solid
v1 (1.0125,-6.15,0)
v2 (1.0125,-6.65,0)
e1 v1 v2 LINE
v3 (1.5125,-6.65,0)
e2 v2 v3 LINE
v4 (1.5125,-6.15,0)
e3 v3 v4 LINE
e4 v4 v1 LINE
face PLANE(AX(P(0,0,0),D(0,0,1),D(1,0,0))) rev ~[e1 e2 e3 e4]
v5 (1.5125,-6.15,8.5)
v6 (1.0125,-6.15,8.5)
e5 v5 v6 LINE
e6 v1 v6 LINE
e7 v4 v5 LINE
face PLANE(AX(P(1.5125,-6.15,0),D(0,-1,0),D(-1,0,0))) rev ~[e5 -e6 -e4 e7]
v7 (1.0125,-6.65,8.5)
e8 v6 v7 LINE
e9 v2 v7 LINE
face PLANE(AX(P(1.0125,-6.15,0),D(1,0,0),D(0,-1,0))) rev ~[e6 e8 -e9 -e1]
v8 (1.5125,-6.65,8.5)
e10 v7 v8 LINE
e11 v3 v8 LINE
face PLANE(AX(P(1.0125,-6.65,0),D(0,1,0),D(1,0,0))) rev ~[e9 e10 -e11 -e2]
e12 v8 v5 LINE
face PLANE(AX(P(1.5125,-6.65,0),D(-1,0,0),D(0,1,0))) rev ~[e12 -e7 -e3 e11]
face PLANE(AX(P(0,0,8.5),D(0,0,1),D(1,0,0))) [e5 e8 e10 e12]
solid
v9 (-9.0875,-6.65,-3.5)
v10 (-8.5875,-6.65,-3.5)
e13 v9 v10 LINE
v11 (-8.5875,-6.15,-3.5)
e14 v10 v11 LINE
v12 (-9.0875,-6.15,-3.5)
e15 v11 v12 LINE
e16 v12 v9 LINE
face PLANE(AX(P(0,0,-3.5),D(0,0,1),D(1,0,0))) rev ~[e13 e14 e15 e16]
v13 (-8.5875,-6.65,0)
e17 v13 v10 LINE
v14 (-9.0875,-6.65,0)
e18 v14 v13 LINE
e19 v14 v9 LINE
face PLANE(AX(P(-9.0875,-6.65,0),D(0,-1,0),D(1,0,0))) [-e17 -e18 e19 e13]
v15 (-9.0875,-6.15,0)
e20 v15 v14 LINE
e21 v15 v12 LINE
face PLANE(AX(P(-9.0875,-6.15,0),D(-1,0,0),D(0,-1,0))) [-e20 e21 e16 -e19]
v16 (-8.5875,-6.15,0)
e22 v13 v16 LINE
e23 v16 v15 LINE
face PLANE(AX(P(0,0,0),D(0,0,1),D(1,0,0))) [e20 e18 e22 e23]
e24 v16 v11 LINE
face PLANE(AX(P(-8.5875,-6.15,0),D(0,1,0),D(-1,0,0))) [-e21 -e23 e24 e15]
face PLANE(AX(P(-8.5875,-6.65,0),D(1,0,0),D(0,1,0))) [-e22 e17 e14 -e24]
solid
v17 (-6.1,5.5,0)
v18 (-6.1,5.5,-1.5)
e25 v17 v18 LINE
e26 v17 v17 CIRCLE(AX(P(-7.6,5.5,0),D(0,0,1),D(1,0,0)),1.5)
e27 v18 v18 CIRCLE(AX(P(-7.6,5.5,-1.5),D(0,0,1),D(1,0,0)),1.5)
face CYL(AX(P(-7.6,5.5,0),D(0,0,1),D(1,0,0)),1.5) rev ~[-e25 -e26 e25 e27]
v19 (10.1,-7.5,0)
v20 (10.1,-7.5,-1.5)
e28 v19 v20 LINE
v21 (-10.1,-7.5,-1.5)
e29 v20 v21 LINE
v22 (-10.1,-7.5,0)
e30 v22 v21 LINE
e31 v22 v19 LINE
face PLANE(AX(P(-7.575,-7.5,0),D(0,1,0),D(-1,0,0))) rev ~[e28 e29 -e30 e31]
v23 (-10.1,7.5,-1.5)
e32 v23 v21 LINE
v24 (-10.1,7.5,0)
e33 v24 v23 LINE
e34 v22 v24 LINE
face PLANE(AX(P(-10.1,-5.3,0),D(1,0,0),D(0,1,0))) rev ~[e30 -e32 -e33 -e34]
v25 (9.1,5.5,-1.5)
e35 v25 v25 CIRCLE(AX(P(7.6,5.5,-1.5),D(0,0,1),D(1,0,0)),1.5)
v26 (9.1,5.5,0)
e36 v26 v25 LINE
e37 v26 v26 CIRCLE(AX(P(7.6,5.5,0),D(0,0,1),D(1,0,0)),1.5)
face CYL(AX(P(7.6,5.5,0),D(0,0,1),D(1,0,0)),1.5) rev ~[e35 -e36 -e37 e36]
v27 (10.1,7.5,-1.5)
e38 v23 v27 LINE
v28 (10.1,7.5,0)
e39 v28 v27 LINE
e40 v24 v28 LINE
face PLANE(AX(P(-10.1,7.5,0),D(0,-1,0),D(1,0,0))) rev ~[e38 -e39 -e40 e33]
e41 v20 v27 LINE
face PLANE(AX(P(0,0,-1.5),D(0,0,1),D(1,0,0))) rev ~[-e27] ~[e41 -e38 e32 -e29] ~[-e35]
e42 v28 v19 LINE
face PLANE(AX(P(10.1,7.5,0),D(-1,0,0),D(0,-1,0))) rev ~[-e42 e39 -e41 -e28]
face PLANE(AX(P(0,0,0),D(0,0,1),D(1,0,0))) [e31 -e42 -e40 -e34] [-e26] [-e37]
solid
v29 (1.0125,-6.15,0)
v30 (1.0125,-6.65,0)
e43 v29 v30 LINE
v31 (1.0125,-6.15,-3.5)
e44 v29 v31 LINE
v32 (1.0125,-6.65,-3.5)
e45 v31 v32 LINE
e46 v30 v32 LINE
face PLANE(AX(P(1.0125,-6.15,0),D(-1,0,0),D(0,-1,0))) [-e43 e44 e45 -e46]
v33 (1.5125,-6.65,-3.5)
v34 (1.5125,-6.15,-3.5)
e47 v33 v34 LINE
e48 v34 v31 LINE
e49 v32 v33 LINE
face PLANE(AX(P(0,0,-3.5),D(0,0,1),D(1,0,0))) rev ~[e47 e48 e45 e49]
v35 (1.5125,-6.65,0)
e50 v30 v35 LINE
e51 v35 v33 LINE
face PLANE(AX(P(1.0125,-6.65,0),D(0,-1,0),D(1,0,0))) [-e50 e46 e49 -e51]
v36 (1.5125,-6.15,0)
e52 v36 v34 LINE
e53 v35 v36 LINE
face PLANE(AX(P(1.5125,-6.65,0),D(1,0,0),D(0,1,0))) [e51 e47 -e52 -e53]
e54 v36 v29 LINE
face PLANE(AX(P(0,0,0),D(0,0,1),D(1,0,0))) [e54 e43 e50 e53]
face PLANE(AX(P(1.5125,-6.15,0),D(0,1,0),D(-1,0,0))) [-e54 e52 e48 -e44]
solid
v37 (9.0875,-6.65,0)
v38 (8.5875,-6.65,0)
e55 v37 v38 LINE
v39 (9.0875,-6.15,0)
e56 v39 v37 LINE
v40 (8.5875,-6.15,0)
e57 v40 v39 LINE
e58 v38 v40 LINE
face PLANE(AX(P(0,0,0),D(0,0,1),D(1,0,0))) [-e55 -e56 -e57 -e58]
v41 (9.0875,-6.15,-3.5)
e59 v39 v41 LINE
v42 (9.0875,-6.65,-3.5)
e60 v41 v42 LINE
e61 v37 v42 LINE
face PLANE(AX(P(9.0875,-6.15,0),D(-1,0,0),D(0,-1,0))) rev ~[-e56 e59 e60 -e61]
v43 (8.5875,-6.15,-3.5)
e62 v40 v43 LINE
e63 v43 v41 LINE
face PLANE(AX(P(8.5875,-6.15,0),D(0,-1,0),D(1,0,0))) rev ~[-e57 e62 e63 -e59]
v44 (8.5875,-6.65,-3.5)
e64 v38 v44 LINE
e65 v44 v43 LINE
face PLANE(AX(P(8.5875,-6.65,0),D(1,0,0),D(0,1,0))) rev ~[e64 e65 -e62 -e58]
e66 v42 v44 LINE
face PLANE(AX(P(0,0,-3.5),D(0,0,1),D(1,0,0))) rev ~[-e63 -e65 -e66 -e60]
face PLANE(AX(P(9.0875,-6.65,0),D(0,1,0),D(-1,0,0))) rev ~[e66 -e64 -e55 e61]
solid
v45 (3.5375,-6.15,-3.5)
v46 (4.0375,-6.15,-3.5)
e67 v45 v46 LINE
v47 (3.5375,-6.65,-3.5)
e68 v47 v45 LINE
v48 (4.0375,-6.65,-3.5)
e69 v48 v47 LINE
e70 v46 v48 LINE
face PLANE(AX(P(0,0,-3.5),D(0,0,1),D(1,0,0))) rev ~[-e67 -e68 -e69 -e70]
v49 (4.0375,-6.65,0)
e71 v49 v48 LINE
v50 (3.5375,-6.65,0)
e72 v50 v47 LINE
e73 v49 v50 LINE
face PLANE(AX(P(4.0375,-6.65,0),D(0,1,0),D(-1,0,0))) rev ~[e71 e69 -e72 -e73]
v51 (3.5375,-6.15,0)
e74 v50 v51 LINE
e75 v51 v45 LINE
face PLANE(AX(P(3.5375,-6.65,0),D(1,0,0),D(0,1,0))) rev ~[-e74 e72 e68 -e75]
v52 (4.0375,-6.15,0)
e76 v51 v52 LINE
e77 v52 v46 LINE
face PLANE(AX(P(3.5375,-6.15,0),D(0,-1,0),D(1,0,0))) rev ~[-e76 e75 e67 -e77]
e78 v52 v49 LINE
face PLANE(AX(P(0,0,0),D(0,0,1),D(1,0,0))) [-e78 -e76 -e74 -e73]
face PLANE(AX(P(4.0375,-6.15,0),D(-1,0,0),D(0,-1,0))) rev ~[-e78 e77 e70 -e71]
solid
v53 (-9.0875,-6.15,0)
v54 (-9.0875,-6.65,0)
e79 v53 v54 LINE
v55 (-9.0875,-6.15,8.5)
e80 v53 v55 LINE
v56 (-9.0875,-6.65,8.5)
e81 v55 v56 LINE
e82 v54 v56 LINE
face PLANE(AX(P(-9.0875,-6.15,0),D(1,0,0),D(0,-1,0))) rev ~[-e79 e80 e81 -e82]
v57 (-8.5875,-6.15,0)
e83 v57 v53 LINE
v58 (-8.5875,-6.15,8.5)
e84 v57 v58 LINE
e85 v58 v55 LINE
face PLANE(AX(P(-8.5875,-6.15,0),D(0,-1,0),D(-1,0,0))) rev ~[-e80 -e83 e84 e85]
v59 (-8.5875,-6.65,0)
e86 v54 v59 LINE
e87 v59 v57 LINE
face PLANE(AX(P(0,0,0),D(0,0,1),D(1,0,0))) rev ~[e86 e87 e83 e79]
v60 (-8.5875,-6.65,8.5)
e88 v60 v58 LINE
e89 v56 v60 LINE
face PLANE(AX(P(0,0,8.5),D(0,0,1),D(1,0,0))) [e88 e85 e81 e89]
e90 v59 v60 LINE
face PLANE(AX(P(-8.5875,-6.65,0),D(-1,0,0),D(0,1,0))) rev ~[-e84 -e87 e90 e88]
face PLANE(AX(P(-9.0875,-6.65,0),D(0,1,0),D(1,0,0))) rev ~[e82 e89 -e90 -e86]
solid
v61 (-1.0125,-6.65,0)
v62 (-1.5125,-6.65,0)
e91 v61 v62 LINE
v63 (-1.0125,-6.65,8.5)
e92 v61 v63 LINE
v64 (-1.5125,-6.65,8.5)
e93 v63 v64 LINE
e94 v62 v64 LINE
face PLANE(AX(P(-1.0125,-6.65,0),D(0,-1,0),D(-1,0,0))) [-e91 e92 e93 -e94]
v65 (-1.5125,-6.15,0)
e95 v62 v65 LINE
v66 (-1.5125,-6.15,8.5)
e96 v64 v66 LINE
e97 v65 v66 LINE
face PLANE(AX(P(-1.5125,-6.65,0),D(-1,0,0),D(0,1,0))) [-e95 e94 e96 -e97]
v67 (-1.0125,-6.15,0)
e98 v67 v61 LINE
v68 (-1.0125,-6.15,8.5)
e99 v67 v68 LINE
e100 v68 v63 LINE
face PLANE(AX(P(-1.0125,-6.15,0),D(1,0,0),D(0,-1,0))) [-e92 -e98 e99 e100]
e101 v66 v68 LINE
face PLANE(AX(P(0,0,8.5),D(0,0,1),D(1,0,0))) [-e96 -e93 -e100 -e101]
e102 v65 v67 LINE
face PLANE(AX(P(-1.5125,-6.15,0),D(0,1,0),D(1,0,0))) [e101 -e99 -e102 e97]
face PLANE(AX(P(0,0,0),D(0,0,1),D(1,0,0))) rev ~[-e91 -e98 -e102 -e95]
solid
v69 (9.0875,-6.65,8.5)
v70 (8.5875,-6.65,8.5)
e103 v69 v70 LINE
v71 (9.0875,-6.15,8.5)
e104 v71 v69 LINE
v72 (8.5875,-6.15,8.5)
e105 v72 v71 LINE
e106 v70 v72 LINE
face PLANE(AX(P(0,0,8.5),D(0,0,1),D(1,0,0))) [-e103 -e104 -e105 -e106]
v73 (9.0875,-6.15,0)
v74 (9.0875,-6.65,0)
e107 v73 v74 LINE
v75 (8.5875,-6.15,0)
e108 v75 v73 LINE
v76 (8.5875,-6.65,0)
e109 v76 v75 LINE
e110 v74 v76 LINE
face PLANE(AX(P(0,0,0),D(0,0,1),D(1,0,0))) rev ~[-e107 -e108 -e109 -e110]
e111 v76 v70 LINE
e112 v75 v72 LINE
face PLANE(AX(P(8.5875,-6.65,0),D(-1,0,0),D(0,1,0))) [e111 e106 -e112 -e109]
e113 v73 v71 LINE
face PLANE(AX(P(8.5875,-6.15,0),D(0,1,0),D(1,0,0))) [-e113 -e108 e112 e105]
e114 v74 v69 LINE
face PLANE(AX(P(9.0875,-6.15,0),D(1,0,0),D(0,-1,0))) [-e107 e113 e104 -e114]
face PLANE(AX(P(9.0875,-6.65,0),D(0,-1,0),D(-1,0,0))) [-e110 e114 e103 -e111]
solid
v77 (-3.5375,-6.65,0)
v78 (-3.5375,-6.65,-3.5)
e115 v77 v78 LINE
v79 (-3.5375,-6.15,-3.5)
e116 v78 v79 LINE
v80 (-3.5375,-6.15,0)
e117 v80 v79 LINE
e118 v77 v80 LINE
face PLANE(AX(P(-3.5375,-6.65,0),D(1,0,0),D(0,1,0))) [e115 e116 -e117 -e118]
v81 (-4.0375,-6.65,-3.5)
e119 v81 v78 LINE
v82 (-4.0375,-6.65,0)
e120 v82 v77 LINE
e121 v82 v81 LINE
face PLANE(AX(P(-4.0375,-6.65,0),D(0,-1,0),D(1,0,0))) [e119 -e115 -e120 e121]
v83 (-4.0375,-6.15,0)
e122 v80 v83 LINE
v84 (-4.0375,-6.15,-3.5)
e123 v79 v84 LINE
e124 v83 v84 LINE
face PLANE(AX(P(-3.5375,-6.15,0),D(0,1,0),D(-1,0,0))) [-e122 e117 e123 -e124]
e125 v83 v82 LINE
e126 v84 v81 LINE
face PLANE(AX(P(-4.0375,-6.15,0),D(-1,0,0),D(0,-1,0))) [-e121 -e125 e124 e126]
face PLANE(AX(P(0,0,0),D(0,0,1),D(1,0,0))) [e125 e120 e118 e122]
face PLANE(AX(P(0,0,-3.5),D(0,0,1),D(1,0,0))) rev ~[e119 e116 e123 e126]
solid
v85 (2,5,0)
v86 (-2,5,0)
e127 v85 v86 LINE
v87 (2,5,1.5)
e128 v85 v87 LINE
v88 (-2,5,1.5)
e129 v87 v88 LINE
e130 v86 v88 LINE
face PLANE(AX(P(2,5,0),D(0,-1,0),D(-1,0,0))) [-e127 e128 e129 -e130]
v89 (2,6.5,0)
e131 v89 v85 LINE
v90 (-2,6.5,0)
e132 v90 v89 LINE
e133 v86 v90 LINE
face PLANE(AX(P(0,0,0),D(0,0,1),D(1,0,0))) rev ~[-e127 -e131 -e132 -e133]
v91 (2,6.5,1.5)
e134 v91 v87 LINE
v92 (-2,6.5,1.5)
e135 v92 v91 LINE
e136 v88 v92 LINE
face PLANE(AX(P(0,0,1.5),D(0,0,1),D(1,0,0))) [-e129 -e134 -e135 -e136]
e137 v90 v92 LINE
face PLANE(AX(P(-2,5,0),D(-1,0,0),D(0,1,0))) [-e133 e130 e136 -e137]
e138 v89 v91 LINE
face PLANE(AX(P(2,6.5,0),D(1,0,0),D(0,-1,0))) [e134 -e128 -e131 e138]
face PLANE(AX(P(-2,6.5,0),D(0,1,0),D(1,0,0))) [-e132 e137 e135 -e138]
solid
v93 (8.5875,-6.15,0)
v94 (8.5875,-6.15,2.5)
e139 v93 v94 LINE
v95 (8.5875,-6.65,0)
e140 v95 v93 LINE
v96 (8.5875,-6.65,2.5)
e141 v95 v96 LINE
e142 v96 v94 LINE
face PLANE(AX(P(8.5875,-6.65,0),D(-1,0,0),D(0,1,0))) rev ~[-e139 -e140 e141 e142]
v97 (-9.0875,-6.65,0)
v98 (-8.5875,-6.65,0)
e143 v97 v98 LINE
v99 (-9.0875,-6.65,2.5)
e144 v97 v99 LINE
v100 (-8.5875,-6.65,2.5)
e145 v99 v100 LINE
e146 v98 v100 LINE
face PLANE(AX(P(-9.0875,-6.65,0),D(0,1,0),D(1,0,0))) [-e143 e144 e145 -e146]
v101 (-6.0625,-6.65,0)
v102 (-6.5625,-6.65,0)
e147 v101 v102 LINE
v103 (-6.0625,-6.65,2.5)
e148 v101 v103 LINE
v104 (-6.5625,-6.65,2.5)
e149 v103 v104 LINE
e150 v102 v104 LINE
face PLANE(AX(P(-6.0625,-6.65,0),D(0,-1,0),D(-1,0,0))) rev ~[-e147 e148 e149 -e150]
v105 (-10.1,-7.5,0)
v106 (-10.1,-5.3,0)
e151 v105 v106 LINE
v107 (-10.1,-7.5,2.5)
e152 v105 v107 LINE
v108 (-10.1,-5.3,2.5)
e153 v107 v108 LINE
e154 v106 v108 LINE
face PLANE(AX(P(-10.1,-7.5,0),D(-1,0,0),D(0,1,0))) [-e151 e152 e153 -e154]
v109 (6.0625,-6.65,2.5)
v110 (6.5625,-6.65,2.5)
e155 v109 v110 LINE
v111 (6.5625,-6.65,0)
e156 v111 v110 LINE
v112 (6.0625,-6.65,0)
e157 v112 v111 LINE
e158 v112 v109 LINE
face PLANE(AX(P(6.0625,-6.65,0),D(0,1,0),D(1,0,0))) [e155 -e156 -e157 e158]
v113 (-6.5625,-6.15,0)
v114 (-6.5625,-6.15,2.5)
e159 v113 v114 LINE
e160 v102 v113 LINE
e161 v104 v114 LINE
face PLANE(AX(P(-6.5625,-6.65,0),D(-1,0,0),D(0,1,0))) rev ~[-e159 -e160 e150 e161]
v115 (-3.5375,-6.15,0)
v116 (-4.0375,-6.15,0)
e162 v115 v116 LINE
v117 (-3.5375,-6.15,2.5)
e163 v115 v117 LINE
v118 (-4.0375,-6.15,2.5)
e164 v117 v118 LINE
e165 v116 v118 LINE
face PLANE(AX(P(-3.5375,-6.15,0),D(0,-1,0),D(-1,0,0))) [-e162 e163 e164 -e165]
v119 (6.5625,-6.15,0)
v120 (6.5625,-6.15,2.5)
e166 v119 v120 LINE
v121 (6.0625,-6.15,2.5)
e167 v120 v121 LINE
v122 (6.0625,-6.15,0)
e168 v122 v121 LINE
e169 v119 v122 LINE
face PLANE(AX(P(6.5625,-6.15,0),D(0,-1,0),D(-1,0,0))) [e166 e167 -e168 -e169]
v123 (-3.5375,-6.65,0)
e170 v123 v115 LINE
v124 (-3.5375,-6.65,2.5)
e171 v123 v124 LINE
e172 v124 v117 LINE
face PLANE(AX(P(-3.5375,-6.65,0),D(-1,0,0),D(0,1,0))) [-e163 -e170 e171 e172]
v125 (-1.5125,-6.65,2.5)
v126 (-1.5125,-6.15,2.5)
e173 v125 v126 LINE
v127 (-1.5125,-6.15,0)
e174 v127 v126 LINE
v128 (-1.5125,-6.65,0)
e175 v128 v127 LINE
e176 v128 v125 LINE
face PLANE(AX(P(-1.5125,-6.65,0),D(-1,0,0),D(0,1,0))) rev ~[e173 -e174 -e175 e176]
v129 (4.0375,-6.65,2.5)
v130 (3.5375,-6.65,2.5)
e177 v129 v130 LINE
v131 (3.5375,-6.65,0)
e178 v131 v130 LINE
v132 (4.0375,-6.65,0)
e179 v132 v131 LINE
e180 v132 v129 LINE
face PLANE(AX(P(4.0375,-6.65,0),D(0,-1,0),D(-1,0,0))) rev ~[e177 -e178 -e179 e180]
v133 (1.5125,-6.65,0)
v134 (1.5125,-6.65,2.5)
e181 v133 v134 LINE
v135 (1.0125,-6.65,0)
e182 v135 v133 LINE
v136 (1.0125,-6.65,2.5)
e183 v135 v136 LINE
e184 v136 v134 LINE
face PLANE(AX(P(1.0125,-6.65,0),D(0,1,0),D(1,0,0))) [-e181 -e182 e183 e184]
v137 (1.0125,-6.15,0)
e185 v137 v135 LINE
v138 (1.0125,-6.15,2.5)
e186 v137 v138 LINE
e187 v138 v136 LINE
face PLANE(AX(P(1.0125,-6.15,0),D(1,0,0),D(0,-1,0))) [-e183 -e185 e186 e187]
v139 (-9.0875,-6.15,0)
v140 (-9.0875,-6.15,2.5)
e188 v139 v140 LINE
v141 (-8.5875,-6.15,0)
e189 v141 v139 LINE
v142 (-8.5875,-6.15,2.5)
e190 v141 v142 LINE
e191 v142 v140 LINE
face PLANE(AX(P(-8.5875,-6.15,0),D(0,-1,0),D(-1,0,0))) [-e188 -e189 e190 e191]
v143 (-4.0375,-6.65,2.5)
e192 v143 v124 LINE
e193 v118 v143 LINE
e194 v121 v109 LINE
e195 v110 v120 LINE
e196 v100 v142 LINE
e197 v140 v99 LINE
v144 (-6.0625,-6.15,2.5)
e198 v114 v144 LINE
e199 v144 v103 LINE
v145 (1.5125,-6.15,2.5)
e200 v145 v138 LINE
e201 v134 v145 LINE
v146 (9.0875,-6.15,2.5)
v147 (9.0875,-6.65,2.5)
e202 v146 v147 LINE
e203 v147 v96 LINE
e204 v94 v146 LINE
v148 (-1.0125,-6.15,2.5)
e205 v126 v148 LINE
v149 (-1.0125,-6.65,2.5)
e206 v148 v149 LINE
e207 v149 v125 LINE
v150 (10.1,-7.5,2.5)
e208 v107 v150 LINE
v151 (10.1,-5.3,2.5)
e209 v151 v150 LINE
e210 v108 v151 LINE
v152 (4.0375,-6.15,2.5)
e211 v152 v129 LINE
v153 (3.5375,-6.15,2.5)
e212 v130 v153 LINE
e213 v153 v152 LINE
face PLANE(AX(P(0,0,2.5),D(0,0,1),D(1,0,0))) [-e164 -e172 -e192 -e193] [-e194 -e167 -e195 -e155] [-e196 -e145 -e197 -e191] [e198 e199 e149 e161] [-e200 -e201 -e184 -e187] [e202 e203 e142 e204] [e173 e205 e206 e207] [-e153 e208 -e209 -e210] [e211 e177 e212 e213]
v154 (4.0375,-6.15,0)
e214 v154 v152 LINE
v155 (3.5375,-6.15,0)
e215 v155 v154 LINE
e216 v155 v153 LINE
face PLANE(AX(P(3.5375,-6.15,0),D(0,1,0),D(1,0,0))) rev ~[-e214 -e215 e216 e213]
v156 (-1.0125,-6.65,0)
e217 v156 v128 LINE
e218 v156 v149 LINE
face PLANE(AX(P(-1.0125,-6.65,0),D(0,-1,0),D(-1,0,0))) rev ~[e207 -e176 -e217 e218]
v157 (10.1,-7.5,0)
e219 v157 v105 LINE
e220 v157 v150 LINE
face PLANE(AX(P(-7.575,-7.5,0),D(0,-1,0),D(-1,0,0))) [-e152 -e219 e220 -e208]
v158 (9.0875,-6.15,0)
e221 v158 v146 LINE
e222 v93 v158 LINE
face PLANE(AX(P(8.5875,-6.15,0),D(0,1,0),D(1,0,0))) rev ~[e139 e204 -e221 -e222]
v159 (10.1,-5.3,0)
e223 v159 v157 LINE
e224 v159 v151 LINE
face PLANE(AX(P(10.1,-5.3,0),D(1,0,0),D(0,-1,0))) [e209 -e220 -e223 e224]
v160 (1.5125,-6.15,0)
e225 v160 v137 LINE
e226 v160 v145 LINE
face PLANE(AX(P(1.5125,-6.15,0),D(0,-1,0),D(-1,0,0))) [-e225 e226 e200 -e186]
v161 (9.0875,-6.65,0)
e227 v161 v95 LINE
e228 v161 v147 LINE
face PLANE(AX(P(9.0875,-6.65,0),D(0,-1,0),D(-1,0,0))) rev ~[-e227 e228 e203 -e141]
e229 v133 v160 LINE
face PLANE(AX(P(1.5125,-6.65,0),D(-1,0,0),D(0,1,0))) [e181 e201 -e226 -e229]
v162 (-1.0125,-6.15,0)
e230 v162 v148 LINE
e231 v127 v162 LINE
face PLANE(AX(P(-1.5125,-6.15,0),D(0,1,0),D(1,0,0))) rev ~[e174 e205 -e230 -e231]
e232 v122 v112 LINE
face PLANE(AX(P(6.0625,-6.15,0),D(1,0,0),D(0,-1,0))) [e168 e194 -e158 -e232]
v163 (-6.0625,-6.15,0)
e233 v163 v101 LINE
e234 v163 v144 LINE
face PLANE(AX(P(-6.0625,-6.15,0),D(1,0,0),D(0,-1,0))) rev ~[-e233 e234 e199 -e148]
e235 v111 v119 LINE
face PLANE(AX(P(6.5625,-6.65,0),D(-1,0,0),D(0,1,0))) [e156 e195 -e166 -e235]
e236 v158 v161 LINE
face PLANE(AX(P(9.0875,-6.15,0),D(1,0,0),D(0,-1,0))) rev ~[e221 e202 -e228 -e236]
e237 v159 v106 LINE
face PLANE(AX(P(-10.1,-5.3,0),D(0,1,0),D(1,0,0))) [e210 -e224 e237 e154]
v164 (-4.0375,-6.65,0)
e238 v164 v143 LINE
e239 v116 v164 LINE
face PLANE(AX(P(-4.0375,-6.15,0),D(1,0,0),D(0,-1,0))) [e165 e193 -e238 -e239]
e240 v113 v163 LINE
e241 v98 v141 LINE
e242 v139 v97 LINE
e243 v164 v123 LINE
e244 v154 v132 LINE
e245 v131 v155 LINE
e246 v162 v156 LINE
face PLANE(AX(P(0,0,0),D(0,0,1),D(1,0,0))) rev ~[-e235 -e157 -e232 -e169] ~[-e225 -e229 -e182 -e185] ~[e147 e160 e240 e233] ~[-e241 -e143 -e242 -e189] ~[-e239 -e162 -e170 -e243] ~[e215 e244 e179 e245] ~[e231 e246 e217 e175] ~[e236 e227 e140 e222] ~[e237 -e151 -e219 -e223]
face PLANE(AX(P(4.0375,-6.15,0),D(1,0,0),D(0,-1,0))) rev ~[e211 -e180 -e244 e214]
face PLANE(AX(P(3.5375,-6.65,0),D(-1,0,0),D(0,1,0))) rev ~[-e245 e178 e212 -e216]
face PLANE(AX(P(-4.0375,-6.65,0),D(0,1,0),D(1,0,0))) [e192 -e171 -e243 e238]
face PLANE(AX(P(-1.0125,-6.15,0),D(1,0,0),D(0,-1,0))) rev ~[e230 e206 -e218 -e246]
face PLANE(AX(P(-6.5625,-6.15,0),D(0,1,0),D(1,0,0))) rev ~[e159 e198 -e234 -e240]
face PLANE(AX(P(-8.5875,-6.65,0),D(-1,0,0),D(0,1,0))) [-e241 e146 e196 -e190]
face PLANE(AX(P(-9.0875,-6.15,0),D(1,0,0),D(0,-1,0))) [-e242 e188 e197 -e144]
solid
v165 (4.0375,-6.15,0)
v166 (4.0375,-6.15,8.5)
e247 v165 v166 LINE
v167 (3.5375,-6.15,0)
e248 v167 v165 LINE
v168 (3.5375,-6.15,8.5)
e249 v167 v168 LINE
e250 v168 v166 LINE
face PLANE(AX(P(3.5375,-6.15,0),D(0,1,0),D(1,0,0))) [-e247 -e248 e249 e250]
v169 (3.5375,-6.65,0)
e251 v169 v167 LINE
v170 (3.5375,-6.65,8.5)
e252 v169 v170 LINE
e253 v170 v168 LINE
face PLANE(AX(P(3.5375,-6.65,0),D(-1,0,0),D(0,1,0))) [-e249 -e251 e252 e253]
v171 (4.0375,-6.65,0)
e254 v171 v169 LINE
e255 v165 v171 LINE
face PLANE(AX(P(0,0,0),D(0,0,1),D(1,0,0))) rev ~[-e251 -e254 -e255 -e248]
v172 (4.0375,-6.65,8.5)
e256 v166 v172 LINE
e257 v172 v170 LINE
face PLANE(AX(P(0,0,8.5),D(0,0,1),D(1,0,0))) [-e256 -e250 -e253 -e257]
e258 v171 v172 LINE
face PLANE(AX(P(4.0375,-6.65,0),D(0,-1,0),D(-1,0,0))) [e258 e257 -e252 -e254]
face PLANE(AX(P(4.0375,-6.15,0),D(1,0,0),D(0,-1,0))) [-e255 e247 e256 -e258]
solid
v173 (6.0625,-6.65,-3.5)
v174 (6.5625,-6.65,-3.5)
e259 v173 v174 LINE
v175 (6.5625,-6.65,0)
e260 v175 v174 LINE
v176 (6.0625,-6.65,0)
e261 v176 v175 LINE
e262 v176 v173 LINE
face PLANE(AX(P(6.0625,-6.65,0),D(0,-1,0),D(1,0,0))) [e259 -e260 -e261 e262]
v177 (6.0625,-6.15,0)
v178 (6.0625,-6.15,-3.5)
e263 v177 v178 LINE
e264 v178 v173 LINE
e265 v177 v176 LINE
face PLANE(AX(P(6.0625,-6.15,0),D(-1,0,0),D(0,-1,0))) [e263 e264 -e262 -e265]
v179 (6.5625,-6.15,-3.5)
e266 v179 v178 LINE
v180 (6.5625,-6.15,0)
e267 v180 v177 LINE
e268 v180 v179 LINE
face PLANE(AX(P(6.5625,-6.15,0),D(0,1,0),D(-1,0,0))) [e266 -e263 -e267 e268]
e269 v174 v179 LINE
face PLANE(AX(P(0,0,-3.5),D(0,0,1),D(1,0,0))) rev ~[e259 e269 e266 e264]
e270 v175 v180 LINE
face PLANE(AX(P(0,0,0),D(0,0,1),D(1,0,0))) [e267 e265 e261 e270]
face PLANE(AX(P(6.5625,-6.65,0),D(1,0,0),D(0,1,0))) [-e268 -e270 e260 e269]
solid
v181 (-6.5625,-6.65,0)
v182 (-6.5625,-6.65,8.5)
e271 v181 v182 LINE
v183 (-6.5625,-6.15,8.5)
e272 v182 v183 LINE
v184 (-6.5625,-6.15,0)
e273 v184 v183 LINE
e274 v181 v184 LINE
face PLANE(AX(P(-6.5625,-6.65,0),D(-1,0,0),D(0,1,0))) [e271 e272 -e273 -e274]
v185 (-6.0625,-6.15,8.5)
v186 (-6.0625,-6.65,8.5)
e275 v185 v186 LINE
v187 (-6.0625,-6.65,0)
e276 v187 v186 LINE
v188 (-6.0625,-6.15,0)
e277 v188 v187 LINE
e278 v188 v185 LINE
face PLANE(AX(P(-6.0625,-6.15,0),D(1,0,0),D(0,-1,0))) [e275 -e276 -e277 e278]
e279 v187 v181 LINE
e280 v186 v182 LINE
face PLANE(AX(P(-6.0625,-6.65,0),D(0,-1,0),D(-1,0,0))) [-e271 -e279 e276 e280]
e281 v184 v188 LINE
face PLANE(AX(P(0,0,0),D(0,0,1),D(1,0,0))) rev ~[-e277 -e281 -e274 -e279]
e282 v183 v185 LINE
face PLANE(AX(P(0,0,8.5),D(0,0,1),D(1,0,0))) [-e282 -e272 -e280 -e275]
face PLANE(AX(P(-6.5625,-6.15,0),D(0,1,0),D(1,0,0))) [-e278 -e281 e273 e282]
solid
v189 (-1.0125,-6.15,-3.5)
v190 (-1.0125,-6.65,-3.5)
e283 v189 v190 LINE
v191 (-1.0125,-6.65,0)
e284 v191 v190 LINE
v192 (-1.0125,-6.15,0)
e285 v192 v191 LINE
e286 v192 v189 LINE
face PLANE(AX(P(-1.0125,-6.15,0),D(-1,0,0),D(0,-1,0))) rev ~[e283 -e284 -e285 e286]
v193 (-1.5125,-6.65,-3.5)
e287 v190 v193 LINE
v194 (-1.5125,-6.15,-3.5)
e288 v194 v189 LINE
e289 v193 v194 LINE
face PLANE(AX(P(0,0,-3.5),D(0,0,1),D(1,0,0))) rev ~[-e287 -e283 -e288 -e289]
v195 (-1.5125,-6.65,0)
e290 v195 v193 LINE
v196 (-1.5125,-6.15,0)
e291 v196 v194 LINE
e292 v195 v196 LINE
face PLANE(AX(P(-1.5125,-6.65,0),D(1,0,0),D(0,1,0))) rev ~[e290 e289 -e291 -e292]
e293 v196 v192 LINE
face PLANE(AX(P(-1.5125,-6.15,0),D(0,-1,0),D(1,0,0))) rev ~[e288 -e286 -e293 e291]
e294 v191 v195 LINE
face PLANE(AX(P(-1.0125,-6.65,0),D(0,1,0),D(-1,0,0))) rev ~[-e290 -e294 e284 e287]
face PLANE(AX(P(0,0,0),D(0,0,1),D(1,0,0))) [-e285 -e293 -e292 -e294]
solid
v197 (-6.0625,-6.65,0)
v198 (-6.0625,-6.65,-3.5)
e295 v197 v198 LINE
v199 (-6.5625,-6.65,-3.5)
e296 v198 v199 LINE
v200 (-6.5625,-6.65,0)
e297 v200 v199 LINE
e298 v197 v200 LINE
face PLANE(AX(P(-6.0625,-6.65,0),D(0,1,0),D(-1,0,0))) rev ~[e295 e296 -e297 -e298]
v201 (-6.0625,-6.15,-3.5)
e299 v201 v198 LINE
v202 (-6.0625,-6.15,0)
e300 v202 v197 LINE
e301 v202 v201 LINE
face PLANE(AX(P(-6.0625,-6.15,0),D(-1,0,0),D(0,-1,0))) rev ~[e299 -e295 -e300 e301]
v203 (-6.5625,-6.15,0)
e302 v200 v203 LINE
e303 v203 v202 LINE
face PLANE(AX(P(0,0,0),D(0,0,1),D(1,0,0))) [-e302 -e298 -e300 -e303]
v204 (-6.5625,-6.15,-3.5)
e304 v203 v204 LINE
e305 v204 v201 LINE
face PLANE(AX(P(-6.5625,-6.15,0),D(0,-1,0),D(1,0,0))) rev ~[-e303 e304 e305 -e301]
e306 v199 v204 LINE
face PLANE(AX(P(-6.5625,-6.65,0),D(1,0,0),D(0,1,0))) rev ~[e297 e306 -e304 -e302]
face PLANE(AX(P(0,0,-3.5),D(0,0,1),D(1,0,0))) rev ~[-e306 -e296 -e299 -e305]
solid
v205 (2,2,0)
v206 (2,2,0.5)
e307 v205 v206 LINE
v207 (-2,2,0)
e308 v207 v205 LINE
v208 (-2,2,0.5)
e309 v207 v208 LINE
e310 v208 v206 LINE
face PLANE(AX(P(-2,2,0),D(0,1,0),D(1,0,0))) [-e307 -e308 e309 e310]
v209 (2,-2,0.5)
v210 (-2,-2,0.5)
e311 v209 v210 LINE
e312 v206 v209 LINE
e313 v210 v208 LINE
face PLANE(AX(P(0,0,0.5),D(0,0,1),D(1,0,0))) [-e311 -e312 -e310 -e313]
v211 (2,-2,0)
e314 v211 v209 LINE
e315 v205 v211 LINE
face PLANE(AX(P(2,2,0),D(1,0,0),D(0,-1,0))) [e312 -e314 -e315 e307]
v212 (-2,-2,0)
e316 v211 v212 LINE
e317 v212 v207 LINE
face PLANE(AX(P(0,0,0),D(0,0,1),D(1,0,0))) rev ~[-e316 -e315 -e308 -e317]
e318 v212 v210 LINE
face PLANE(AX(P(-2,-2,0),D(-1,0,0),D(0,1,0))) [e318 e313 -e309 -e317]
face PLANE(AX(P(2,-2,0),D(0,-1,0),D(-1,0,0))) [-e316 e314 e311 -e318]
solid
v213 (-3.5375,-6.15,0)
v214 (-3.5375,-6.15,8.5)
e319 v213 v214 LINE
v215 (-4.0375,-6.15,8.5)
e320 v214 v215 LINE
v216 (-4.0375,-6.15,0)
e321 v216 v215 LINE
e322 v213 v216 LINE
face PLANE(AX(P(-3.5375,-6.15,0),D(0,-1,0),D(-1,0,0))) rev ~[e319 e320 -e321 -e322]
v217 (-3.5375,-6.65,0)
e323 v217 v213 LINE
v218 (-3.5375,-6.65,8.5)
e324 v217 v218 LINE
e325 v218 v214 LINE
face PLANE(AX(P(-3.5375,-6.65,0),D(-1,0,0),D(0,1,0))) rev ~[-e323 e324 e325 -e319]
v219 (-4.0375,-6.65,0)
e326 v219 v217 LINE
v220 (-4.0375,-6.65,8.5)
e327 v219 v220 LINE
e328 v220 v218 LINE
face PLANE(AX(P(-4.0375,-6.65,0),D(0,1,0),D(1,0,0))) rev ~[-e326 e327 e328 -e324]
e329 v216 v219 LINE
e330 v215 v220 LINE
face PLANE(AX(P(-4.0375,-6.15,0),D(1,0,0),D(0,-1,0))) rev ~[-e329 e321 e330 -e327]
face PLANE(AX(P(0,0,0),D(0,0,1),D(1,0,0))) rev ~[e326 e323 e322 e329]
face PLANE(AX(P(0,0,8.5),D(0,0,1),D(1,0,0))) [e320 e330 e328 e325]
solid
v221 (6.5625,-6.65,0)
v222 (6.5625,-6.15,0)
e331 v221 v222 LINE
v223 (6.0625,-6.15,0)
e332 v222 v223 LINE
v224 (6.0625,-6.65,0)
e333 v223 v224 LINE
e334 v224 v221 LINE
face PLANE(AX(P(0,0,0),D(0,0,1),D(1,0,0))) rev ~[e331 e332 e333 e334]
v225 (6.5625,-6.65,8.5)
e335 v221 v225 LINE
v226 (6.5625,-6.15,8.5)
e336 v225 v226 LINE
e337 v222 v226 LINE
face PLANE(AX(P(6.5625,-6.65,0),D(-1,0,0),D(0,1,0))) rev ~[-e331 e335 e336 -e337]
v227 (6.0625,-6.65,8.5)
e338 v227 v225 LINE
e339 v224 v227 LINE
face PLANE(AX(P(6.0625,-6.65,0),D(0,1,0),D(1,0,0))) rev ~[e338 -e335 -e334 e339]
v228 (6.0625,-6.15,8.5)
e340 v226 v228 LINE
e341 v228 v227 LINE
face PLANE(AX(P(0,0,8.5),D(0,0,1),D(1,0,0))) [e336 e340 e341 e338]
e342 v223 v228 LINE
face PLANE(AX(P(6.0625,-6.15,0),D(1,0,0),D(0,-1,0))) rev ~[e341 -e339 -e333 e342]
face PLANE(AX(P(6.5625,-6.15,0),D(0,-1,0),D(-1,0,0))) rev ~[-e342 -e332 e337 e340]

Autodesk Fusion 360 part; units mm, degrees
sketch "base" plane through (0, 0, 0) normal (0, 0, 1) x (1, 0, 0)
  line L0 (-10.1, 7.5) -> (10.1, 7.5)
  line L1 (10.1, 7.5) -> (10.1, -7.5)
  line L2 (10.1, -7.5) -> (-10.1, -7.5)
  line L3 (-10.1, -7.5) -> (-10.1, 7.5)
  line L4 (0, 0) -> (30, 0) construction
  line L5 (0, 0) -> (0, 39.4345) construction
  circle A0 centre (-7.6, 5.5) radius 1.5
  circle A1 centre (7.6, 5.5) radius 1.5
  line L6 (-13.6828, -5.3) -> (15.1887, -5.3) construction
  line L7 (-10.1, -5.3) -> (-7.575, -5.3)
  line L8 (-7.575, -5.3) -> (-7.575, -7.5)
  line L9 (-7.575, -7.5) -> (-10.1, -7.5)
  line L10 (-10.1, -7.5) -> (-10.1, -5.3)
  line L11 (-5.05, -7.5) -> (-5.05, -18.9706) construction
  line L12 (-7.575, -5.3) -> (-5.05, -5.3) construction
  line L13 (-5.05, -5.3) -> (-5.05, -7.5) construction
  line L14 (-5.05, -7.5) -> (-7.575, -7.5) construction
  line L15 (-7.575, -7.5) -> (-7.575, -5.3) construction
  line L16 (-7.575, -5.3) -> (-5.05, -5.3)
  line L17 (-5.05, -5.3) -> (-5.05, -7.5)
  line L18 (-5.05, -7.5) -> (-7.575, -7.5)
  line L19 (-7.575, -7.5) -> (-7.575, -5.3)
  line L20 (-2.525, -7.5) -> (-2.525, -5.3)
  line L21 (-5.05, -5.3) -> (-2.525, -5.3)
  line L22 (-2.525, -5.3) -> (-2.525, -7.5)
  line L23 (-2.525, -7.5) -> (-5.05, -7.5)
  line L24 (-5.05, -7.5) -> (-5.05, -5.3)
  line L25 (-2.525, -5.3) -> (0, -5.3)
  line L26 (0, -5.3) -> (0, -7.5)
  line L27 (0, -7.5) -> (-2.525, -7.5)
  line L28 (-2.525, -7.5) -> (-2.525, -5.3)
  line L29 (-10.1, -5.3) -> (-7.575, -5.3)
  line L30 (-7.575, -5.3) -> (-7.575, -7.5)
  line L31 (-7.575, -7.5) -> (-10.1, -7.5)
  line L32 (-10.1, -7.5) -> (-10.1, -5.3)
  line L33 (10.1, -7.5) -> (10.1, -5.3)
  line L34 (7.575, -7.5) -> (10.1, -7.5)
  line L35 (10.1, -5.3) -> (7.575, -5.3)
  line L36 (7.575, -5.3) -> (7.575, -7.5)
  line L37 (7.575, -5.3) -> (5.05, -5.3)
  line L38 (5.05, -5.3) -> (5.05, -7.5)
  line L39 (2.525, -5.3) -> (2.525, -7.5)
  line L40 (5.05, -5.3) -> (2.525, -5.3)
  line L41 (13.6828, -5.3) -> (-15.1887, -5.3) construction
  line L42 (0, -5.3) -> (0, -7.5)
  line L43 (0, -7.5) -> (2.525, -7.5)
  line L44 (2.525, -7.5) -> (5.05, -7.5)
  line L45 (-10.1, -7.5) -> (10.1, -7.5)
  line L46 (0, -5.3) -> (2.525, -5.3)
  line L47 (2.525, -5.3) -> (2.525, -7.5)
  line L48 (2.525, -7.5) -> (0, -7.5)
  line L49 (0, -7.5) -> (0, -5.3)
  line L50 (-10.1, -6.4) -> (-7.575, -6.4) construction
  line L51 (-8.8375, -5.3) -> (-8.8375, -7.5) construction
  line L52 (-8.5875, -6.15) -> (-9.0875, -6.15)
  line L53 (-9.0875, -6.15) -> (-9.0875, -6.65)
  line L54 (-9.0875, -6.65) -> (-8.5875, -6.65)
  line L55 (-8.5875, -6.65) -> (-8.5875, -6.15)
  line L56 (-8.5875, -6.15) -> (-9.0875, -6.65) construction
  line L57 (-9.0875, -6.15) -> (-8.5875, -6.65) construction
  line L58 (-5.05, -6.4) -> (-7.575, -6.4) construction
  line L59 (-6.0625, -6.65) -> (-6.5625, -6.65)
  line L60 (-6.5625, -6.65) -> (-6.5625, -6.15)
  line L61 (-6.0625, -6.15) -> (-6.5625, -6.65) construction
  line L62 (-6.5625, -6.15) -> (-6.0625, -6.15)
  line L63 (-6.3125, -5.3) -> (-6.3125, -7.5) construction
  line L64 (-6.0625, -6.15) -> (-6.0625, -6.65)
  line L65 (-6.5625, -6.15) -> (-6.0625, -6.65) construction
  line L66 (-1.0125, -6.15) -> (-1.5125, -6.65) construction
  line L67 (-1.5125, -6.15) -> (-1.0125, -6.65) construction
  line L68 (-1.0125, -6.65) -> (-1.5125, -6.65)
  line L69 (-1.0125, -6.15) -> (-1.0125, -6.65)
  line L70 (-3.5375, -6.65) -> (-3.5375, -6.15)
  line L71 (-4.0375, -6.65) -> (-3.5375, -6.65)
  line L72 (-1.5125, -6.15) -> (-1.0125, -6.15)
  line L73 (-3.5375, -6.15) -> (-4.0375, -6.65) construction
  line L74 (-4.0375, -6.15) -> (-4.0375, -6.65)
  line L75 (-1.5125, -6.65) -> (-1.5125, -6.15)
  line L76 (-3.5375, -6.15) -> (-4.0375, -6.15)
  line L77 (-4.0375, -6.15) -> (-3.5375, -6.65) construction
  line L78 (3.5375, -6.15) -> (4.0375, -6.15)
  line L79 (6.0625, -6.15) -> (6.0625, -6.65)
  line L80 (6.5625, -6.15) -> (6.0625, -6.15)
  line L81 (3.5375, -6.65) -> (3.5375, -6.15)
  line L82 (6.5625, -6.65) -> (6.5625, -6.15)
  line L83 (4.0375, -6.15) -> (4.0375, -6.65)
  line L84 (6.0625, -6.65) -> (6.5625, -6.65)
  line L85 (4.0375, -6.15) -> (3.5375, -6.65) construction
  line L86 (3.5375, -6.15) -> (4.0375, -6.65) construction
  line L87 (4.0375, -6.65) -> (3.5375, -6.65)
  line L88 (6.5625, -6.15) -> (6.0625, -6.65) construction
  line L89 (6.0625, -6.15) -> (6.5625, -6.65) construction
  line L90 (9.0875, -6.15) -> (8.5875, -6.65) construction
  line L91 (8.5875, -6.15) -> (9.0875, -6.15)
  line L92 (8.5875, -6.15) -> (9.0875, -6.65) construction
  line L93 (8.5875, -6.65) -> (8.5875, -6.15)
  line L94 (9.0875, -6.15) -> (9.0875, -6.65)
  line L95 (9.0875, -6.65) -> (8.5875, -6.65)
  line L96 (5.05, -6.4) -> (7.575, -6.4) construction
  line L97 (1.0125, -6.65) -> (1.5125, -6.65)
  line L98 (1.5125, -6.65) -> (1.5125, -6.15)
  line L99 (1.5125, -6.15) -> (1.0125, -6.15)
  line L100 (1.0125, -6.15) -> (1.5125, -6.65) construction
  line L101 (1.0125, -6.15) -> (1.0125, -6.65)
  line L102 (1.5125, -6.15) -> (1.0125, -6.65) construction
  line L103 (-2, 6.5) -> (2, 6.5)
  line L104 (2, 6.5) -> (2, 5)
  line L105 (2, 5) -> (-2, 5)
  line L106 (-2, 5) -> (-2, 6.5)
  line L107 (-2, 6.5) -> (2, 5) construction
  line L108 (2, 6.5) -> (-2, 5) construction
  line L109 (-2, 2) -> (2, 2)
  line L110 (2, 2) -> (2, -2)
  line L111 (2, -2) -> (-2, -2)
  line L112 (-2, -2) -> (-2, 2)
  line L113 (-2, 2) -> (2, -2) construction
  line L114 (2, 2) -> (-2, -2) construction
  point P0 (-8.8375, -6.4)
  point P1 (-6.3125, -6.4)
  point P2 (-2.525, -6.4)
  point P3 (-2.525, -6.4)
  point P4 (-1.2625, -6.4)
  point P5 (-3.7875, -6.4)
  point P6 (7.575, -6.4)
  point P7 (1.2625, -6.4)
  point P8 (2.525, -6.4)
  point P9 (6.3125, -6.4)
  point P10 (8.8375, -6.4)
  point P11 (3.7875, -6.4)
  point P12 (2.525, -6.4)
  point P13 (0, 5.75)
  dimension "d1" = 20.2
  dimension "d2" = 15
  dimension "d3" = 30
  dimension "d4" = 7.5
  dimension "d5" = 10.1
  dimension "d6" = 3
  dimension "d7" = 2
  dimension "d8" = 2.5
  dimension "d9" = 2.2
  dimension "d10" = 2.525
  dimension "d11" = 5.05
  dimension "d12" = 0.5
  dimension "d13" = 0.5
  dimension "d14" = 4
  dimension "d15" = 1.5
  dimension "d16" = 1
  dimension "d27" = 4
  dimension "d28" = 4
extrude "Extrude6" add sketch "base" along normal blind 0.5 contours L109 L110 L111 L112 makes body 1
extrude "Extrude4" add sketch "base" against normal blind 3.5 separate body contours L52 L53 L54 L55 | L59 L60 L62 L64 | L68 L69 L72 L75 | L70 L71 L74 L76 | L78 L81 L83 L87 | L79 L80 L82 L84 | L91 L93 L94 L95 | L97 L98 L99 L101 makes body 2 at (3.7042, -6.15, -1.1667) makes body 3 at (-6.2292, -6.65, -1.1667) makes body 4 at (-3.8708, -6.65, -1.1667) makes body 5 at (6.3958, -6.15, -1.1667) makes body 6 at (1.3458, -6.15, -1.1667) makes body 7 at (-8.5875, -6.4833, -1.1667) makes body 8 at (-1.1792, -6.65, -1.1667) makes body 9 at (8.7542, -6.15, -1.1667)
extrude "Extrude3" add sketch "base" along normal blind 8.5 separate body contours L52 L53 L54 L55 | L59 L60 L62 L64 | L68 L69 L72 L75 | L70 L71 L74 L76 | L78 L81 L83 L87 | L79 L80 L82 L84 | L91 L93 L94 L95 | L97 L98 L99 L101 makes body 10 at (3.7042, -6.15, 2.8333) makes body 11 at (-6.2292, -6.65, 2.8333) makes body 12 at (-3.8708, -6.65, 2.8333) makes body 13 at (6.3958, -6.15, 2.8333) makes body 14 at (1.3458, -6.15, 2.8333) makes body 15 at (-8.5875, -6.4833, 2.8333) makes body 16 at (-1.1792, -6.65, 2.8333) makes body 17 at (8.7542, -6.15, 2.8333)
extrude "Extrude2" add sketch "base" along normal blind 2.5 separate body contours L2 L3 L7 L8 L9 L10 L19 L29 L30 L31 L32 L45 | L1 L2 L33 L34 L35 L36 L45 | L2 L8 L16 L17 L18 L19 L24 L30 L45 | L2 L36 L37 L38 L45 | L2 L17 L20 L21 L22 L23 L24 L28 L45 | L2 L38 L39 L40 L44 L45 L47 | L2 L20 L22 L25 L26 L27 L28 L42 L45 L49 | L2 L26 L39 L42 L43 L45 L46 L47 L48 L49 makes body 18
extrude "Extrude1" add sketch "base" against normal blind 1.5 separate body contours L0 L1 L3 L7 L16 L21 L25 L29 L35 L37 L40 L46 | L2 L3 L7 L8 L9 L10 L19 L29 L30 L31 L32 L45 | L1 L2 L33 L34 L35 L36 L45 | L2 L8 L16 L17 L18 L19 L24 L30 L45 | L2 L36 L37 L38 L45 | L2 L17 L20 L21 L22 L23 L24 L28 L45 | L2 L38 L39 L40 L44 L45 L47 | L2 L20 L22 L25 L26 L27 L28 L42 L45 L49 | L2 L26 L39 L42 L43 L45 L46 L47 L48 L49 | L52 L53 L54 L55 | L59 L60 L62 L64 | L68 L69 L72 L75 | L70 L71 L74 L76 | L78 L81 L83 L87 | L79 L80 L82 L84 | L91 L93 L94 L95 | L97 L98 L99 L101 | L103 L104 L105 L106 | L109 L110 L111 L112 makes body 19
extrude "Extrude5" add sketch "base" along normal blind 1.5 separate body contours L103 L104 L105 L106 makes body 20
equation "d10 = ( 10.1 / 4 ) * 1 mm"
equation "d11 = ( 10.1 / 2 ) * 1 mm"
